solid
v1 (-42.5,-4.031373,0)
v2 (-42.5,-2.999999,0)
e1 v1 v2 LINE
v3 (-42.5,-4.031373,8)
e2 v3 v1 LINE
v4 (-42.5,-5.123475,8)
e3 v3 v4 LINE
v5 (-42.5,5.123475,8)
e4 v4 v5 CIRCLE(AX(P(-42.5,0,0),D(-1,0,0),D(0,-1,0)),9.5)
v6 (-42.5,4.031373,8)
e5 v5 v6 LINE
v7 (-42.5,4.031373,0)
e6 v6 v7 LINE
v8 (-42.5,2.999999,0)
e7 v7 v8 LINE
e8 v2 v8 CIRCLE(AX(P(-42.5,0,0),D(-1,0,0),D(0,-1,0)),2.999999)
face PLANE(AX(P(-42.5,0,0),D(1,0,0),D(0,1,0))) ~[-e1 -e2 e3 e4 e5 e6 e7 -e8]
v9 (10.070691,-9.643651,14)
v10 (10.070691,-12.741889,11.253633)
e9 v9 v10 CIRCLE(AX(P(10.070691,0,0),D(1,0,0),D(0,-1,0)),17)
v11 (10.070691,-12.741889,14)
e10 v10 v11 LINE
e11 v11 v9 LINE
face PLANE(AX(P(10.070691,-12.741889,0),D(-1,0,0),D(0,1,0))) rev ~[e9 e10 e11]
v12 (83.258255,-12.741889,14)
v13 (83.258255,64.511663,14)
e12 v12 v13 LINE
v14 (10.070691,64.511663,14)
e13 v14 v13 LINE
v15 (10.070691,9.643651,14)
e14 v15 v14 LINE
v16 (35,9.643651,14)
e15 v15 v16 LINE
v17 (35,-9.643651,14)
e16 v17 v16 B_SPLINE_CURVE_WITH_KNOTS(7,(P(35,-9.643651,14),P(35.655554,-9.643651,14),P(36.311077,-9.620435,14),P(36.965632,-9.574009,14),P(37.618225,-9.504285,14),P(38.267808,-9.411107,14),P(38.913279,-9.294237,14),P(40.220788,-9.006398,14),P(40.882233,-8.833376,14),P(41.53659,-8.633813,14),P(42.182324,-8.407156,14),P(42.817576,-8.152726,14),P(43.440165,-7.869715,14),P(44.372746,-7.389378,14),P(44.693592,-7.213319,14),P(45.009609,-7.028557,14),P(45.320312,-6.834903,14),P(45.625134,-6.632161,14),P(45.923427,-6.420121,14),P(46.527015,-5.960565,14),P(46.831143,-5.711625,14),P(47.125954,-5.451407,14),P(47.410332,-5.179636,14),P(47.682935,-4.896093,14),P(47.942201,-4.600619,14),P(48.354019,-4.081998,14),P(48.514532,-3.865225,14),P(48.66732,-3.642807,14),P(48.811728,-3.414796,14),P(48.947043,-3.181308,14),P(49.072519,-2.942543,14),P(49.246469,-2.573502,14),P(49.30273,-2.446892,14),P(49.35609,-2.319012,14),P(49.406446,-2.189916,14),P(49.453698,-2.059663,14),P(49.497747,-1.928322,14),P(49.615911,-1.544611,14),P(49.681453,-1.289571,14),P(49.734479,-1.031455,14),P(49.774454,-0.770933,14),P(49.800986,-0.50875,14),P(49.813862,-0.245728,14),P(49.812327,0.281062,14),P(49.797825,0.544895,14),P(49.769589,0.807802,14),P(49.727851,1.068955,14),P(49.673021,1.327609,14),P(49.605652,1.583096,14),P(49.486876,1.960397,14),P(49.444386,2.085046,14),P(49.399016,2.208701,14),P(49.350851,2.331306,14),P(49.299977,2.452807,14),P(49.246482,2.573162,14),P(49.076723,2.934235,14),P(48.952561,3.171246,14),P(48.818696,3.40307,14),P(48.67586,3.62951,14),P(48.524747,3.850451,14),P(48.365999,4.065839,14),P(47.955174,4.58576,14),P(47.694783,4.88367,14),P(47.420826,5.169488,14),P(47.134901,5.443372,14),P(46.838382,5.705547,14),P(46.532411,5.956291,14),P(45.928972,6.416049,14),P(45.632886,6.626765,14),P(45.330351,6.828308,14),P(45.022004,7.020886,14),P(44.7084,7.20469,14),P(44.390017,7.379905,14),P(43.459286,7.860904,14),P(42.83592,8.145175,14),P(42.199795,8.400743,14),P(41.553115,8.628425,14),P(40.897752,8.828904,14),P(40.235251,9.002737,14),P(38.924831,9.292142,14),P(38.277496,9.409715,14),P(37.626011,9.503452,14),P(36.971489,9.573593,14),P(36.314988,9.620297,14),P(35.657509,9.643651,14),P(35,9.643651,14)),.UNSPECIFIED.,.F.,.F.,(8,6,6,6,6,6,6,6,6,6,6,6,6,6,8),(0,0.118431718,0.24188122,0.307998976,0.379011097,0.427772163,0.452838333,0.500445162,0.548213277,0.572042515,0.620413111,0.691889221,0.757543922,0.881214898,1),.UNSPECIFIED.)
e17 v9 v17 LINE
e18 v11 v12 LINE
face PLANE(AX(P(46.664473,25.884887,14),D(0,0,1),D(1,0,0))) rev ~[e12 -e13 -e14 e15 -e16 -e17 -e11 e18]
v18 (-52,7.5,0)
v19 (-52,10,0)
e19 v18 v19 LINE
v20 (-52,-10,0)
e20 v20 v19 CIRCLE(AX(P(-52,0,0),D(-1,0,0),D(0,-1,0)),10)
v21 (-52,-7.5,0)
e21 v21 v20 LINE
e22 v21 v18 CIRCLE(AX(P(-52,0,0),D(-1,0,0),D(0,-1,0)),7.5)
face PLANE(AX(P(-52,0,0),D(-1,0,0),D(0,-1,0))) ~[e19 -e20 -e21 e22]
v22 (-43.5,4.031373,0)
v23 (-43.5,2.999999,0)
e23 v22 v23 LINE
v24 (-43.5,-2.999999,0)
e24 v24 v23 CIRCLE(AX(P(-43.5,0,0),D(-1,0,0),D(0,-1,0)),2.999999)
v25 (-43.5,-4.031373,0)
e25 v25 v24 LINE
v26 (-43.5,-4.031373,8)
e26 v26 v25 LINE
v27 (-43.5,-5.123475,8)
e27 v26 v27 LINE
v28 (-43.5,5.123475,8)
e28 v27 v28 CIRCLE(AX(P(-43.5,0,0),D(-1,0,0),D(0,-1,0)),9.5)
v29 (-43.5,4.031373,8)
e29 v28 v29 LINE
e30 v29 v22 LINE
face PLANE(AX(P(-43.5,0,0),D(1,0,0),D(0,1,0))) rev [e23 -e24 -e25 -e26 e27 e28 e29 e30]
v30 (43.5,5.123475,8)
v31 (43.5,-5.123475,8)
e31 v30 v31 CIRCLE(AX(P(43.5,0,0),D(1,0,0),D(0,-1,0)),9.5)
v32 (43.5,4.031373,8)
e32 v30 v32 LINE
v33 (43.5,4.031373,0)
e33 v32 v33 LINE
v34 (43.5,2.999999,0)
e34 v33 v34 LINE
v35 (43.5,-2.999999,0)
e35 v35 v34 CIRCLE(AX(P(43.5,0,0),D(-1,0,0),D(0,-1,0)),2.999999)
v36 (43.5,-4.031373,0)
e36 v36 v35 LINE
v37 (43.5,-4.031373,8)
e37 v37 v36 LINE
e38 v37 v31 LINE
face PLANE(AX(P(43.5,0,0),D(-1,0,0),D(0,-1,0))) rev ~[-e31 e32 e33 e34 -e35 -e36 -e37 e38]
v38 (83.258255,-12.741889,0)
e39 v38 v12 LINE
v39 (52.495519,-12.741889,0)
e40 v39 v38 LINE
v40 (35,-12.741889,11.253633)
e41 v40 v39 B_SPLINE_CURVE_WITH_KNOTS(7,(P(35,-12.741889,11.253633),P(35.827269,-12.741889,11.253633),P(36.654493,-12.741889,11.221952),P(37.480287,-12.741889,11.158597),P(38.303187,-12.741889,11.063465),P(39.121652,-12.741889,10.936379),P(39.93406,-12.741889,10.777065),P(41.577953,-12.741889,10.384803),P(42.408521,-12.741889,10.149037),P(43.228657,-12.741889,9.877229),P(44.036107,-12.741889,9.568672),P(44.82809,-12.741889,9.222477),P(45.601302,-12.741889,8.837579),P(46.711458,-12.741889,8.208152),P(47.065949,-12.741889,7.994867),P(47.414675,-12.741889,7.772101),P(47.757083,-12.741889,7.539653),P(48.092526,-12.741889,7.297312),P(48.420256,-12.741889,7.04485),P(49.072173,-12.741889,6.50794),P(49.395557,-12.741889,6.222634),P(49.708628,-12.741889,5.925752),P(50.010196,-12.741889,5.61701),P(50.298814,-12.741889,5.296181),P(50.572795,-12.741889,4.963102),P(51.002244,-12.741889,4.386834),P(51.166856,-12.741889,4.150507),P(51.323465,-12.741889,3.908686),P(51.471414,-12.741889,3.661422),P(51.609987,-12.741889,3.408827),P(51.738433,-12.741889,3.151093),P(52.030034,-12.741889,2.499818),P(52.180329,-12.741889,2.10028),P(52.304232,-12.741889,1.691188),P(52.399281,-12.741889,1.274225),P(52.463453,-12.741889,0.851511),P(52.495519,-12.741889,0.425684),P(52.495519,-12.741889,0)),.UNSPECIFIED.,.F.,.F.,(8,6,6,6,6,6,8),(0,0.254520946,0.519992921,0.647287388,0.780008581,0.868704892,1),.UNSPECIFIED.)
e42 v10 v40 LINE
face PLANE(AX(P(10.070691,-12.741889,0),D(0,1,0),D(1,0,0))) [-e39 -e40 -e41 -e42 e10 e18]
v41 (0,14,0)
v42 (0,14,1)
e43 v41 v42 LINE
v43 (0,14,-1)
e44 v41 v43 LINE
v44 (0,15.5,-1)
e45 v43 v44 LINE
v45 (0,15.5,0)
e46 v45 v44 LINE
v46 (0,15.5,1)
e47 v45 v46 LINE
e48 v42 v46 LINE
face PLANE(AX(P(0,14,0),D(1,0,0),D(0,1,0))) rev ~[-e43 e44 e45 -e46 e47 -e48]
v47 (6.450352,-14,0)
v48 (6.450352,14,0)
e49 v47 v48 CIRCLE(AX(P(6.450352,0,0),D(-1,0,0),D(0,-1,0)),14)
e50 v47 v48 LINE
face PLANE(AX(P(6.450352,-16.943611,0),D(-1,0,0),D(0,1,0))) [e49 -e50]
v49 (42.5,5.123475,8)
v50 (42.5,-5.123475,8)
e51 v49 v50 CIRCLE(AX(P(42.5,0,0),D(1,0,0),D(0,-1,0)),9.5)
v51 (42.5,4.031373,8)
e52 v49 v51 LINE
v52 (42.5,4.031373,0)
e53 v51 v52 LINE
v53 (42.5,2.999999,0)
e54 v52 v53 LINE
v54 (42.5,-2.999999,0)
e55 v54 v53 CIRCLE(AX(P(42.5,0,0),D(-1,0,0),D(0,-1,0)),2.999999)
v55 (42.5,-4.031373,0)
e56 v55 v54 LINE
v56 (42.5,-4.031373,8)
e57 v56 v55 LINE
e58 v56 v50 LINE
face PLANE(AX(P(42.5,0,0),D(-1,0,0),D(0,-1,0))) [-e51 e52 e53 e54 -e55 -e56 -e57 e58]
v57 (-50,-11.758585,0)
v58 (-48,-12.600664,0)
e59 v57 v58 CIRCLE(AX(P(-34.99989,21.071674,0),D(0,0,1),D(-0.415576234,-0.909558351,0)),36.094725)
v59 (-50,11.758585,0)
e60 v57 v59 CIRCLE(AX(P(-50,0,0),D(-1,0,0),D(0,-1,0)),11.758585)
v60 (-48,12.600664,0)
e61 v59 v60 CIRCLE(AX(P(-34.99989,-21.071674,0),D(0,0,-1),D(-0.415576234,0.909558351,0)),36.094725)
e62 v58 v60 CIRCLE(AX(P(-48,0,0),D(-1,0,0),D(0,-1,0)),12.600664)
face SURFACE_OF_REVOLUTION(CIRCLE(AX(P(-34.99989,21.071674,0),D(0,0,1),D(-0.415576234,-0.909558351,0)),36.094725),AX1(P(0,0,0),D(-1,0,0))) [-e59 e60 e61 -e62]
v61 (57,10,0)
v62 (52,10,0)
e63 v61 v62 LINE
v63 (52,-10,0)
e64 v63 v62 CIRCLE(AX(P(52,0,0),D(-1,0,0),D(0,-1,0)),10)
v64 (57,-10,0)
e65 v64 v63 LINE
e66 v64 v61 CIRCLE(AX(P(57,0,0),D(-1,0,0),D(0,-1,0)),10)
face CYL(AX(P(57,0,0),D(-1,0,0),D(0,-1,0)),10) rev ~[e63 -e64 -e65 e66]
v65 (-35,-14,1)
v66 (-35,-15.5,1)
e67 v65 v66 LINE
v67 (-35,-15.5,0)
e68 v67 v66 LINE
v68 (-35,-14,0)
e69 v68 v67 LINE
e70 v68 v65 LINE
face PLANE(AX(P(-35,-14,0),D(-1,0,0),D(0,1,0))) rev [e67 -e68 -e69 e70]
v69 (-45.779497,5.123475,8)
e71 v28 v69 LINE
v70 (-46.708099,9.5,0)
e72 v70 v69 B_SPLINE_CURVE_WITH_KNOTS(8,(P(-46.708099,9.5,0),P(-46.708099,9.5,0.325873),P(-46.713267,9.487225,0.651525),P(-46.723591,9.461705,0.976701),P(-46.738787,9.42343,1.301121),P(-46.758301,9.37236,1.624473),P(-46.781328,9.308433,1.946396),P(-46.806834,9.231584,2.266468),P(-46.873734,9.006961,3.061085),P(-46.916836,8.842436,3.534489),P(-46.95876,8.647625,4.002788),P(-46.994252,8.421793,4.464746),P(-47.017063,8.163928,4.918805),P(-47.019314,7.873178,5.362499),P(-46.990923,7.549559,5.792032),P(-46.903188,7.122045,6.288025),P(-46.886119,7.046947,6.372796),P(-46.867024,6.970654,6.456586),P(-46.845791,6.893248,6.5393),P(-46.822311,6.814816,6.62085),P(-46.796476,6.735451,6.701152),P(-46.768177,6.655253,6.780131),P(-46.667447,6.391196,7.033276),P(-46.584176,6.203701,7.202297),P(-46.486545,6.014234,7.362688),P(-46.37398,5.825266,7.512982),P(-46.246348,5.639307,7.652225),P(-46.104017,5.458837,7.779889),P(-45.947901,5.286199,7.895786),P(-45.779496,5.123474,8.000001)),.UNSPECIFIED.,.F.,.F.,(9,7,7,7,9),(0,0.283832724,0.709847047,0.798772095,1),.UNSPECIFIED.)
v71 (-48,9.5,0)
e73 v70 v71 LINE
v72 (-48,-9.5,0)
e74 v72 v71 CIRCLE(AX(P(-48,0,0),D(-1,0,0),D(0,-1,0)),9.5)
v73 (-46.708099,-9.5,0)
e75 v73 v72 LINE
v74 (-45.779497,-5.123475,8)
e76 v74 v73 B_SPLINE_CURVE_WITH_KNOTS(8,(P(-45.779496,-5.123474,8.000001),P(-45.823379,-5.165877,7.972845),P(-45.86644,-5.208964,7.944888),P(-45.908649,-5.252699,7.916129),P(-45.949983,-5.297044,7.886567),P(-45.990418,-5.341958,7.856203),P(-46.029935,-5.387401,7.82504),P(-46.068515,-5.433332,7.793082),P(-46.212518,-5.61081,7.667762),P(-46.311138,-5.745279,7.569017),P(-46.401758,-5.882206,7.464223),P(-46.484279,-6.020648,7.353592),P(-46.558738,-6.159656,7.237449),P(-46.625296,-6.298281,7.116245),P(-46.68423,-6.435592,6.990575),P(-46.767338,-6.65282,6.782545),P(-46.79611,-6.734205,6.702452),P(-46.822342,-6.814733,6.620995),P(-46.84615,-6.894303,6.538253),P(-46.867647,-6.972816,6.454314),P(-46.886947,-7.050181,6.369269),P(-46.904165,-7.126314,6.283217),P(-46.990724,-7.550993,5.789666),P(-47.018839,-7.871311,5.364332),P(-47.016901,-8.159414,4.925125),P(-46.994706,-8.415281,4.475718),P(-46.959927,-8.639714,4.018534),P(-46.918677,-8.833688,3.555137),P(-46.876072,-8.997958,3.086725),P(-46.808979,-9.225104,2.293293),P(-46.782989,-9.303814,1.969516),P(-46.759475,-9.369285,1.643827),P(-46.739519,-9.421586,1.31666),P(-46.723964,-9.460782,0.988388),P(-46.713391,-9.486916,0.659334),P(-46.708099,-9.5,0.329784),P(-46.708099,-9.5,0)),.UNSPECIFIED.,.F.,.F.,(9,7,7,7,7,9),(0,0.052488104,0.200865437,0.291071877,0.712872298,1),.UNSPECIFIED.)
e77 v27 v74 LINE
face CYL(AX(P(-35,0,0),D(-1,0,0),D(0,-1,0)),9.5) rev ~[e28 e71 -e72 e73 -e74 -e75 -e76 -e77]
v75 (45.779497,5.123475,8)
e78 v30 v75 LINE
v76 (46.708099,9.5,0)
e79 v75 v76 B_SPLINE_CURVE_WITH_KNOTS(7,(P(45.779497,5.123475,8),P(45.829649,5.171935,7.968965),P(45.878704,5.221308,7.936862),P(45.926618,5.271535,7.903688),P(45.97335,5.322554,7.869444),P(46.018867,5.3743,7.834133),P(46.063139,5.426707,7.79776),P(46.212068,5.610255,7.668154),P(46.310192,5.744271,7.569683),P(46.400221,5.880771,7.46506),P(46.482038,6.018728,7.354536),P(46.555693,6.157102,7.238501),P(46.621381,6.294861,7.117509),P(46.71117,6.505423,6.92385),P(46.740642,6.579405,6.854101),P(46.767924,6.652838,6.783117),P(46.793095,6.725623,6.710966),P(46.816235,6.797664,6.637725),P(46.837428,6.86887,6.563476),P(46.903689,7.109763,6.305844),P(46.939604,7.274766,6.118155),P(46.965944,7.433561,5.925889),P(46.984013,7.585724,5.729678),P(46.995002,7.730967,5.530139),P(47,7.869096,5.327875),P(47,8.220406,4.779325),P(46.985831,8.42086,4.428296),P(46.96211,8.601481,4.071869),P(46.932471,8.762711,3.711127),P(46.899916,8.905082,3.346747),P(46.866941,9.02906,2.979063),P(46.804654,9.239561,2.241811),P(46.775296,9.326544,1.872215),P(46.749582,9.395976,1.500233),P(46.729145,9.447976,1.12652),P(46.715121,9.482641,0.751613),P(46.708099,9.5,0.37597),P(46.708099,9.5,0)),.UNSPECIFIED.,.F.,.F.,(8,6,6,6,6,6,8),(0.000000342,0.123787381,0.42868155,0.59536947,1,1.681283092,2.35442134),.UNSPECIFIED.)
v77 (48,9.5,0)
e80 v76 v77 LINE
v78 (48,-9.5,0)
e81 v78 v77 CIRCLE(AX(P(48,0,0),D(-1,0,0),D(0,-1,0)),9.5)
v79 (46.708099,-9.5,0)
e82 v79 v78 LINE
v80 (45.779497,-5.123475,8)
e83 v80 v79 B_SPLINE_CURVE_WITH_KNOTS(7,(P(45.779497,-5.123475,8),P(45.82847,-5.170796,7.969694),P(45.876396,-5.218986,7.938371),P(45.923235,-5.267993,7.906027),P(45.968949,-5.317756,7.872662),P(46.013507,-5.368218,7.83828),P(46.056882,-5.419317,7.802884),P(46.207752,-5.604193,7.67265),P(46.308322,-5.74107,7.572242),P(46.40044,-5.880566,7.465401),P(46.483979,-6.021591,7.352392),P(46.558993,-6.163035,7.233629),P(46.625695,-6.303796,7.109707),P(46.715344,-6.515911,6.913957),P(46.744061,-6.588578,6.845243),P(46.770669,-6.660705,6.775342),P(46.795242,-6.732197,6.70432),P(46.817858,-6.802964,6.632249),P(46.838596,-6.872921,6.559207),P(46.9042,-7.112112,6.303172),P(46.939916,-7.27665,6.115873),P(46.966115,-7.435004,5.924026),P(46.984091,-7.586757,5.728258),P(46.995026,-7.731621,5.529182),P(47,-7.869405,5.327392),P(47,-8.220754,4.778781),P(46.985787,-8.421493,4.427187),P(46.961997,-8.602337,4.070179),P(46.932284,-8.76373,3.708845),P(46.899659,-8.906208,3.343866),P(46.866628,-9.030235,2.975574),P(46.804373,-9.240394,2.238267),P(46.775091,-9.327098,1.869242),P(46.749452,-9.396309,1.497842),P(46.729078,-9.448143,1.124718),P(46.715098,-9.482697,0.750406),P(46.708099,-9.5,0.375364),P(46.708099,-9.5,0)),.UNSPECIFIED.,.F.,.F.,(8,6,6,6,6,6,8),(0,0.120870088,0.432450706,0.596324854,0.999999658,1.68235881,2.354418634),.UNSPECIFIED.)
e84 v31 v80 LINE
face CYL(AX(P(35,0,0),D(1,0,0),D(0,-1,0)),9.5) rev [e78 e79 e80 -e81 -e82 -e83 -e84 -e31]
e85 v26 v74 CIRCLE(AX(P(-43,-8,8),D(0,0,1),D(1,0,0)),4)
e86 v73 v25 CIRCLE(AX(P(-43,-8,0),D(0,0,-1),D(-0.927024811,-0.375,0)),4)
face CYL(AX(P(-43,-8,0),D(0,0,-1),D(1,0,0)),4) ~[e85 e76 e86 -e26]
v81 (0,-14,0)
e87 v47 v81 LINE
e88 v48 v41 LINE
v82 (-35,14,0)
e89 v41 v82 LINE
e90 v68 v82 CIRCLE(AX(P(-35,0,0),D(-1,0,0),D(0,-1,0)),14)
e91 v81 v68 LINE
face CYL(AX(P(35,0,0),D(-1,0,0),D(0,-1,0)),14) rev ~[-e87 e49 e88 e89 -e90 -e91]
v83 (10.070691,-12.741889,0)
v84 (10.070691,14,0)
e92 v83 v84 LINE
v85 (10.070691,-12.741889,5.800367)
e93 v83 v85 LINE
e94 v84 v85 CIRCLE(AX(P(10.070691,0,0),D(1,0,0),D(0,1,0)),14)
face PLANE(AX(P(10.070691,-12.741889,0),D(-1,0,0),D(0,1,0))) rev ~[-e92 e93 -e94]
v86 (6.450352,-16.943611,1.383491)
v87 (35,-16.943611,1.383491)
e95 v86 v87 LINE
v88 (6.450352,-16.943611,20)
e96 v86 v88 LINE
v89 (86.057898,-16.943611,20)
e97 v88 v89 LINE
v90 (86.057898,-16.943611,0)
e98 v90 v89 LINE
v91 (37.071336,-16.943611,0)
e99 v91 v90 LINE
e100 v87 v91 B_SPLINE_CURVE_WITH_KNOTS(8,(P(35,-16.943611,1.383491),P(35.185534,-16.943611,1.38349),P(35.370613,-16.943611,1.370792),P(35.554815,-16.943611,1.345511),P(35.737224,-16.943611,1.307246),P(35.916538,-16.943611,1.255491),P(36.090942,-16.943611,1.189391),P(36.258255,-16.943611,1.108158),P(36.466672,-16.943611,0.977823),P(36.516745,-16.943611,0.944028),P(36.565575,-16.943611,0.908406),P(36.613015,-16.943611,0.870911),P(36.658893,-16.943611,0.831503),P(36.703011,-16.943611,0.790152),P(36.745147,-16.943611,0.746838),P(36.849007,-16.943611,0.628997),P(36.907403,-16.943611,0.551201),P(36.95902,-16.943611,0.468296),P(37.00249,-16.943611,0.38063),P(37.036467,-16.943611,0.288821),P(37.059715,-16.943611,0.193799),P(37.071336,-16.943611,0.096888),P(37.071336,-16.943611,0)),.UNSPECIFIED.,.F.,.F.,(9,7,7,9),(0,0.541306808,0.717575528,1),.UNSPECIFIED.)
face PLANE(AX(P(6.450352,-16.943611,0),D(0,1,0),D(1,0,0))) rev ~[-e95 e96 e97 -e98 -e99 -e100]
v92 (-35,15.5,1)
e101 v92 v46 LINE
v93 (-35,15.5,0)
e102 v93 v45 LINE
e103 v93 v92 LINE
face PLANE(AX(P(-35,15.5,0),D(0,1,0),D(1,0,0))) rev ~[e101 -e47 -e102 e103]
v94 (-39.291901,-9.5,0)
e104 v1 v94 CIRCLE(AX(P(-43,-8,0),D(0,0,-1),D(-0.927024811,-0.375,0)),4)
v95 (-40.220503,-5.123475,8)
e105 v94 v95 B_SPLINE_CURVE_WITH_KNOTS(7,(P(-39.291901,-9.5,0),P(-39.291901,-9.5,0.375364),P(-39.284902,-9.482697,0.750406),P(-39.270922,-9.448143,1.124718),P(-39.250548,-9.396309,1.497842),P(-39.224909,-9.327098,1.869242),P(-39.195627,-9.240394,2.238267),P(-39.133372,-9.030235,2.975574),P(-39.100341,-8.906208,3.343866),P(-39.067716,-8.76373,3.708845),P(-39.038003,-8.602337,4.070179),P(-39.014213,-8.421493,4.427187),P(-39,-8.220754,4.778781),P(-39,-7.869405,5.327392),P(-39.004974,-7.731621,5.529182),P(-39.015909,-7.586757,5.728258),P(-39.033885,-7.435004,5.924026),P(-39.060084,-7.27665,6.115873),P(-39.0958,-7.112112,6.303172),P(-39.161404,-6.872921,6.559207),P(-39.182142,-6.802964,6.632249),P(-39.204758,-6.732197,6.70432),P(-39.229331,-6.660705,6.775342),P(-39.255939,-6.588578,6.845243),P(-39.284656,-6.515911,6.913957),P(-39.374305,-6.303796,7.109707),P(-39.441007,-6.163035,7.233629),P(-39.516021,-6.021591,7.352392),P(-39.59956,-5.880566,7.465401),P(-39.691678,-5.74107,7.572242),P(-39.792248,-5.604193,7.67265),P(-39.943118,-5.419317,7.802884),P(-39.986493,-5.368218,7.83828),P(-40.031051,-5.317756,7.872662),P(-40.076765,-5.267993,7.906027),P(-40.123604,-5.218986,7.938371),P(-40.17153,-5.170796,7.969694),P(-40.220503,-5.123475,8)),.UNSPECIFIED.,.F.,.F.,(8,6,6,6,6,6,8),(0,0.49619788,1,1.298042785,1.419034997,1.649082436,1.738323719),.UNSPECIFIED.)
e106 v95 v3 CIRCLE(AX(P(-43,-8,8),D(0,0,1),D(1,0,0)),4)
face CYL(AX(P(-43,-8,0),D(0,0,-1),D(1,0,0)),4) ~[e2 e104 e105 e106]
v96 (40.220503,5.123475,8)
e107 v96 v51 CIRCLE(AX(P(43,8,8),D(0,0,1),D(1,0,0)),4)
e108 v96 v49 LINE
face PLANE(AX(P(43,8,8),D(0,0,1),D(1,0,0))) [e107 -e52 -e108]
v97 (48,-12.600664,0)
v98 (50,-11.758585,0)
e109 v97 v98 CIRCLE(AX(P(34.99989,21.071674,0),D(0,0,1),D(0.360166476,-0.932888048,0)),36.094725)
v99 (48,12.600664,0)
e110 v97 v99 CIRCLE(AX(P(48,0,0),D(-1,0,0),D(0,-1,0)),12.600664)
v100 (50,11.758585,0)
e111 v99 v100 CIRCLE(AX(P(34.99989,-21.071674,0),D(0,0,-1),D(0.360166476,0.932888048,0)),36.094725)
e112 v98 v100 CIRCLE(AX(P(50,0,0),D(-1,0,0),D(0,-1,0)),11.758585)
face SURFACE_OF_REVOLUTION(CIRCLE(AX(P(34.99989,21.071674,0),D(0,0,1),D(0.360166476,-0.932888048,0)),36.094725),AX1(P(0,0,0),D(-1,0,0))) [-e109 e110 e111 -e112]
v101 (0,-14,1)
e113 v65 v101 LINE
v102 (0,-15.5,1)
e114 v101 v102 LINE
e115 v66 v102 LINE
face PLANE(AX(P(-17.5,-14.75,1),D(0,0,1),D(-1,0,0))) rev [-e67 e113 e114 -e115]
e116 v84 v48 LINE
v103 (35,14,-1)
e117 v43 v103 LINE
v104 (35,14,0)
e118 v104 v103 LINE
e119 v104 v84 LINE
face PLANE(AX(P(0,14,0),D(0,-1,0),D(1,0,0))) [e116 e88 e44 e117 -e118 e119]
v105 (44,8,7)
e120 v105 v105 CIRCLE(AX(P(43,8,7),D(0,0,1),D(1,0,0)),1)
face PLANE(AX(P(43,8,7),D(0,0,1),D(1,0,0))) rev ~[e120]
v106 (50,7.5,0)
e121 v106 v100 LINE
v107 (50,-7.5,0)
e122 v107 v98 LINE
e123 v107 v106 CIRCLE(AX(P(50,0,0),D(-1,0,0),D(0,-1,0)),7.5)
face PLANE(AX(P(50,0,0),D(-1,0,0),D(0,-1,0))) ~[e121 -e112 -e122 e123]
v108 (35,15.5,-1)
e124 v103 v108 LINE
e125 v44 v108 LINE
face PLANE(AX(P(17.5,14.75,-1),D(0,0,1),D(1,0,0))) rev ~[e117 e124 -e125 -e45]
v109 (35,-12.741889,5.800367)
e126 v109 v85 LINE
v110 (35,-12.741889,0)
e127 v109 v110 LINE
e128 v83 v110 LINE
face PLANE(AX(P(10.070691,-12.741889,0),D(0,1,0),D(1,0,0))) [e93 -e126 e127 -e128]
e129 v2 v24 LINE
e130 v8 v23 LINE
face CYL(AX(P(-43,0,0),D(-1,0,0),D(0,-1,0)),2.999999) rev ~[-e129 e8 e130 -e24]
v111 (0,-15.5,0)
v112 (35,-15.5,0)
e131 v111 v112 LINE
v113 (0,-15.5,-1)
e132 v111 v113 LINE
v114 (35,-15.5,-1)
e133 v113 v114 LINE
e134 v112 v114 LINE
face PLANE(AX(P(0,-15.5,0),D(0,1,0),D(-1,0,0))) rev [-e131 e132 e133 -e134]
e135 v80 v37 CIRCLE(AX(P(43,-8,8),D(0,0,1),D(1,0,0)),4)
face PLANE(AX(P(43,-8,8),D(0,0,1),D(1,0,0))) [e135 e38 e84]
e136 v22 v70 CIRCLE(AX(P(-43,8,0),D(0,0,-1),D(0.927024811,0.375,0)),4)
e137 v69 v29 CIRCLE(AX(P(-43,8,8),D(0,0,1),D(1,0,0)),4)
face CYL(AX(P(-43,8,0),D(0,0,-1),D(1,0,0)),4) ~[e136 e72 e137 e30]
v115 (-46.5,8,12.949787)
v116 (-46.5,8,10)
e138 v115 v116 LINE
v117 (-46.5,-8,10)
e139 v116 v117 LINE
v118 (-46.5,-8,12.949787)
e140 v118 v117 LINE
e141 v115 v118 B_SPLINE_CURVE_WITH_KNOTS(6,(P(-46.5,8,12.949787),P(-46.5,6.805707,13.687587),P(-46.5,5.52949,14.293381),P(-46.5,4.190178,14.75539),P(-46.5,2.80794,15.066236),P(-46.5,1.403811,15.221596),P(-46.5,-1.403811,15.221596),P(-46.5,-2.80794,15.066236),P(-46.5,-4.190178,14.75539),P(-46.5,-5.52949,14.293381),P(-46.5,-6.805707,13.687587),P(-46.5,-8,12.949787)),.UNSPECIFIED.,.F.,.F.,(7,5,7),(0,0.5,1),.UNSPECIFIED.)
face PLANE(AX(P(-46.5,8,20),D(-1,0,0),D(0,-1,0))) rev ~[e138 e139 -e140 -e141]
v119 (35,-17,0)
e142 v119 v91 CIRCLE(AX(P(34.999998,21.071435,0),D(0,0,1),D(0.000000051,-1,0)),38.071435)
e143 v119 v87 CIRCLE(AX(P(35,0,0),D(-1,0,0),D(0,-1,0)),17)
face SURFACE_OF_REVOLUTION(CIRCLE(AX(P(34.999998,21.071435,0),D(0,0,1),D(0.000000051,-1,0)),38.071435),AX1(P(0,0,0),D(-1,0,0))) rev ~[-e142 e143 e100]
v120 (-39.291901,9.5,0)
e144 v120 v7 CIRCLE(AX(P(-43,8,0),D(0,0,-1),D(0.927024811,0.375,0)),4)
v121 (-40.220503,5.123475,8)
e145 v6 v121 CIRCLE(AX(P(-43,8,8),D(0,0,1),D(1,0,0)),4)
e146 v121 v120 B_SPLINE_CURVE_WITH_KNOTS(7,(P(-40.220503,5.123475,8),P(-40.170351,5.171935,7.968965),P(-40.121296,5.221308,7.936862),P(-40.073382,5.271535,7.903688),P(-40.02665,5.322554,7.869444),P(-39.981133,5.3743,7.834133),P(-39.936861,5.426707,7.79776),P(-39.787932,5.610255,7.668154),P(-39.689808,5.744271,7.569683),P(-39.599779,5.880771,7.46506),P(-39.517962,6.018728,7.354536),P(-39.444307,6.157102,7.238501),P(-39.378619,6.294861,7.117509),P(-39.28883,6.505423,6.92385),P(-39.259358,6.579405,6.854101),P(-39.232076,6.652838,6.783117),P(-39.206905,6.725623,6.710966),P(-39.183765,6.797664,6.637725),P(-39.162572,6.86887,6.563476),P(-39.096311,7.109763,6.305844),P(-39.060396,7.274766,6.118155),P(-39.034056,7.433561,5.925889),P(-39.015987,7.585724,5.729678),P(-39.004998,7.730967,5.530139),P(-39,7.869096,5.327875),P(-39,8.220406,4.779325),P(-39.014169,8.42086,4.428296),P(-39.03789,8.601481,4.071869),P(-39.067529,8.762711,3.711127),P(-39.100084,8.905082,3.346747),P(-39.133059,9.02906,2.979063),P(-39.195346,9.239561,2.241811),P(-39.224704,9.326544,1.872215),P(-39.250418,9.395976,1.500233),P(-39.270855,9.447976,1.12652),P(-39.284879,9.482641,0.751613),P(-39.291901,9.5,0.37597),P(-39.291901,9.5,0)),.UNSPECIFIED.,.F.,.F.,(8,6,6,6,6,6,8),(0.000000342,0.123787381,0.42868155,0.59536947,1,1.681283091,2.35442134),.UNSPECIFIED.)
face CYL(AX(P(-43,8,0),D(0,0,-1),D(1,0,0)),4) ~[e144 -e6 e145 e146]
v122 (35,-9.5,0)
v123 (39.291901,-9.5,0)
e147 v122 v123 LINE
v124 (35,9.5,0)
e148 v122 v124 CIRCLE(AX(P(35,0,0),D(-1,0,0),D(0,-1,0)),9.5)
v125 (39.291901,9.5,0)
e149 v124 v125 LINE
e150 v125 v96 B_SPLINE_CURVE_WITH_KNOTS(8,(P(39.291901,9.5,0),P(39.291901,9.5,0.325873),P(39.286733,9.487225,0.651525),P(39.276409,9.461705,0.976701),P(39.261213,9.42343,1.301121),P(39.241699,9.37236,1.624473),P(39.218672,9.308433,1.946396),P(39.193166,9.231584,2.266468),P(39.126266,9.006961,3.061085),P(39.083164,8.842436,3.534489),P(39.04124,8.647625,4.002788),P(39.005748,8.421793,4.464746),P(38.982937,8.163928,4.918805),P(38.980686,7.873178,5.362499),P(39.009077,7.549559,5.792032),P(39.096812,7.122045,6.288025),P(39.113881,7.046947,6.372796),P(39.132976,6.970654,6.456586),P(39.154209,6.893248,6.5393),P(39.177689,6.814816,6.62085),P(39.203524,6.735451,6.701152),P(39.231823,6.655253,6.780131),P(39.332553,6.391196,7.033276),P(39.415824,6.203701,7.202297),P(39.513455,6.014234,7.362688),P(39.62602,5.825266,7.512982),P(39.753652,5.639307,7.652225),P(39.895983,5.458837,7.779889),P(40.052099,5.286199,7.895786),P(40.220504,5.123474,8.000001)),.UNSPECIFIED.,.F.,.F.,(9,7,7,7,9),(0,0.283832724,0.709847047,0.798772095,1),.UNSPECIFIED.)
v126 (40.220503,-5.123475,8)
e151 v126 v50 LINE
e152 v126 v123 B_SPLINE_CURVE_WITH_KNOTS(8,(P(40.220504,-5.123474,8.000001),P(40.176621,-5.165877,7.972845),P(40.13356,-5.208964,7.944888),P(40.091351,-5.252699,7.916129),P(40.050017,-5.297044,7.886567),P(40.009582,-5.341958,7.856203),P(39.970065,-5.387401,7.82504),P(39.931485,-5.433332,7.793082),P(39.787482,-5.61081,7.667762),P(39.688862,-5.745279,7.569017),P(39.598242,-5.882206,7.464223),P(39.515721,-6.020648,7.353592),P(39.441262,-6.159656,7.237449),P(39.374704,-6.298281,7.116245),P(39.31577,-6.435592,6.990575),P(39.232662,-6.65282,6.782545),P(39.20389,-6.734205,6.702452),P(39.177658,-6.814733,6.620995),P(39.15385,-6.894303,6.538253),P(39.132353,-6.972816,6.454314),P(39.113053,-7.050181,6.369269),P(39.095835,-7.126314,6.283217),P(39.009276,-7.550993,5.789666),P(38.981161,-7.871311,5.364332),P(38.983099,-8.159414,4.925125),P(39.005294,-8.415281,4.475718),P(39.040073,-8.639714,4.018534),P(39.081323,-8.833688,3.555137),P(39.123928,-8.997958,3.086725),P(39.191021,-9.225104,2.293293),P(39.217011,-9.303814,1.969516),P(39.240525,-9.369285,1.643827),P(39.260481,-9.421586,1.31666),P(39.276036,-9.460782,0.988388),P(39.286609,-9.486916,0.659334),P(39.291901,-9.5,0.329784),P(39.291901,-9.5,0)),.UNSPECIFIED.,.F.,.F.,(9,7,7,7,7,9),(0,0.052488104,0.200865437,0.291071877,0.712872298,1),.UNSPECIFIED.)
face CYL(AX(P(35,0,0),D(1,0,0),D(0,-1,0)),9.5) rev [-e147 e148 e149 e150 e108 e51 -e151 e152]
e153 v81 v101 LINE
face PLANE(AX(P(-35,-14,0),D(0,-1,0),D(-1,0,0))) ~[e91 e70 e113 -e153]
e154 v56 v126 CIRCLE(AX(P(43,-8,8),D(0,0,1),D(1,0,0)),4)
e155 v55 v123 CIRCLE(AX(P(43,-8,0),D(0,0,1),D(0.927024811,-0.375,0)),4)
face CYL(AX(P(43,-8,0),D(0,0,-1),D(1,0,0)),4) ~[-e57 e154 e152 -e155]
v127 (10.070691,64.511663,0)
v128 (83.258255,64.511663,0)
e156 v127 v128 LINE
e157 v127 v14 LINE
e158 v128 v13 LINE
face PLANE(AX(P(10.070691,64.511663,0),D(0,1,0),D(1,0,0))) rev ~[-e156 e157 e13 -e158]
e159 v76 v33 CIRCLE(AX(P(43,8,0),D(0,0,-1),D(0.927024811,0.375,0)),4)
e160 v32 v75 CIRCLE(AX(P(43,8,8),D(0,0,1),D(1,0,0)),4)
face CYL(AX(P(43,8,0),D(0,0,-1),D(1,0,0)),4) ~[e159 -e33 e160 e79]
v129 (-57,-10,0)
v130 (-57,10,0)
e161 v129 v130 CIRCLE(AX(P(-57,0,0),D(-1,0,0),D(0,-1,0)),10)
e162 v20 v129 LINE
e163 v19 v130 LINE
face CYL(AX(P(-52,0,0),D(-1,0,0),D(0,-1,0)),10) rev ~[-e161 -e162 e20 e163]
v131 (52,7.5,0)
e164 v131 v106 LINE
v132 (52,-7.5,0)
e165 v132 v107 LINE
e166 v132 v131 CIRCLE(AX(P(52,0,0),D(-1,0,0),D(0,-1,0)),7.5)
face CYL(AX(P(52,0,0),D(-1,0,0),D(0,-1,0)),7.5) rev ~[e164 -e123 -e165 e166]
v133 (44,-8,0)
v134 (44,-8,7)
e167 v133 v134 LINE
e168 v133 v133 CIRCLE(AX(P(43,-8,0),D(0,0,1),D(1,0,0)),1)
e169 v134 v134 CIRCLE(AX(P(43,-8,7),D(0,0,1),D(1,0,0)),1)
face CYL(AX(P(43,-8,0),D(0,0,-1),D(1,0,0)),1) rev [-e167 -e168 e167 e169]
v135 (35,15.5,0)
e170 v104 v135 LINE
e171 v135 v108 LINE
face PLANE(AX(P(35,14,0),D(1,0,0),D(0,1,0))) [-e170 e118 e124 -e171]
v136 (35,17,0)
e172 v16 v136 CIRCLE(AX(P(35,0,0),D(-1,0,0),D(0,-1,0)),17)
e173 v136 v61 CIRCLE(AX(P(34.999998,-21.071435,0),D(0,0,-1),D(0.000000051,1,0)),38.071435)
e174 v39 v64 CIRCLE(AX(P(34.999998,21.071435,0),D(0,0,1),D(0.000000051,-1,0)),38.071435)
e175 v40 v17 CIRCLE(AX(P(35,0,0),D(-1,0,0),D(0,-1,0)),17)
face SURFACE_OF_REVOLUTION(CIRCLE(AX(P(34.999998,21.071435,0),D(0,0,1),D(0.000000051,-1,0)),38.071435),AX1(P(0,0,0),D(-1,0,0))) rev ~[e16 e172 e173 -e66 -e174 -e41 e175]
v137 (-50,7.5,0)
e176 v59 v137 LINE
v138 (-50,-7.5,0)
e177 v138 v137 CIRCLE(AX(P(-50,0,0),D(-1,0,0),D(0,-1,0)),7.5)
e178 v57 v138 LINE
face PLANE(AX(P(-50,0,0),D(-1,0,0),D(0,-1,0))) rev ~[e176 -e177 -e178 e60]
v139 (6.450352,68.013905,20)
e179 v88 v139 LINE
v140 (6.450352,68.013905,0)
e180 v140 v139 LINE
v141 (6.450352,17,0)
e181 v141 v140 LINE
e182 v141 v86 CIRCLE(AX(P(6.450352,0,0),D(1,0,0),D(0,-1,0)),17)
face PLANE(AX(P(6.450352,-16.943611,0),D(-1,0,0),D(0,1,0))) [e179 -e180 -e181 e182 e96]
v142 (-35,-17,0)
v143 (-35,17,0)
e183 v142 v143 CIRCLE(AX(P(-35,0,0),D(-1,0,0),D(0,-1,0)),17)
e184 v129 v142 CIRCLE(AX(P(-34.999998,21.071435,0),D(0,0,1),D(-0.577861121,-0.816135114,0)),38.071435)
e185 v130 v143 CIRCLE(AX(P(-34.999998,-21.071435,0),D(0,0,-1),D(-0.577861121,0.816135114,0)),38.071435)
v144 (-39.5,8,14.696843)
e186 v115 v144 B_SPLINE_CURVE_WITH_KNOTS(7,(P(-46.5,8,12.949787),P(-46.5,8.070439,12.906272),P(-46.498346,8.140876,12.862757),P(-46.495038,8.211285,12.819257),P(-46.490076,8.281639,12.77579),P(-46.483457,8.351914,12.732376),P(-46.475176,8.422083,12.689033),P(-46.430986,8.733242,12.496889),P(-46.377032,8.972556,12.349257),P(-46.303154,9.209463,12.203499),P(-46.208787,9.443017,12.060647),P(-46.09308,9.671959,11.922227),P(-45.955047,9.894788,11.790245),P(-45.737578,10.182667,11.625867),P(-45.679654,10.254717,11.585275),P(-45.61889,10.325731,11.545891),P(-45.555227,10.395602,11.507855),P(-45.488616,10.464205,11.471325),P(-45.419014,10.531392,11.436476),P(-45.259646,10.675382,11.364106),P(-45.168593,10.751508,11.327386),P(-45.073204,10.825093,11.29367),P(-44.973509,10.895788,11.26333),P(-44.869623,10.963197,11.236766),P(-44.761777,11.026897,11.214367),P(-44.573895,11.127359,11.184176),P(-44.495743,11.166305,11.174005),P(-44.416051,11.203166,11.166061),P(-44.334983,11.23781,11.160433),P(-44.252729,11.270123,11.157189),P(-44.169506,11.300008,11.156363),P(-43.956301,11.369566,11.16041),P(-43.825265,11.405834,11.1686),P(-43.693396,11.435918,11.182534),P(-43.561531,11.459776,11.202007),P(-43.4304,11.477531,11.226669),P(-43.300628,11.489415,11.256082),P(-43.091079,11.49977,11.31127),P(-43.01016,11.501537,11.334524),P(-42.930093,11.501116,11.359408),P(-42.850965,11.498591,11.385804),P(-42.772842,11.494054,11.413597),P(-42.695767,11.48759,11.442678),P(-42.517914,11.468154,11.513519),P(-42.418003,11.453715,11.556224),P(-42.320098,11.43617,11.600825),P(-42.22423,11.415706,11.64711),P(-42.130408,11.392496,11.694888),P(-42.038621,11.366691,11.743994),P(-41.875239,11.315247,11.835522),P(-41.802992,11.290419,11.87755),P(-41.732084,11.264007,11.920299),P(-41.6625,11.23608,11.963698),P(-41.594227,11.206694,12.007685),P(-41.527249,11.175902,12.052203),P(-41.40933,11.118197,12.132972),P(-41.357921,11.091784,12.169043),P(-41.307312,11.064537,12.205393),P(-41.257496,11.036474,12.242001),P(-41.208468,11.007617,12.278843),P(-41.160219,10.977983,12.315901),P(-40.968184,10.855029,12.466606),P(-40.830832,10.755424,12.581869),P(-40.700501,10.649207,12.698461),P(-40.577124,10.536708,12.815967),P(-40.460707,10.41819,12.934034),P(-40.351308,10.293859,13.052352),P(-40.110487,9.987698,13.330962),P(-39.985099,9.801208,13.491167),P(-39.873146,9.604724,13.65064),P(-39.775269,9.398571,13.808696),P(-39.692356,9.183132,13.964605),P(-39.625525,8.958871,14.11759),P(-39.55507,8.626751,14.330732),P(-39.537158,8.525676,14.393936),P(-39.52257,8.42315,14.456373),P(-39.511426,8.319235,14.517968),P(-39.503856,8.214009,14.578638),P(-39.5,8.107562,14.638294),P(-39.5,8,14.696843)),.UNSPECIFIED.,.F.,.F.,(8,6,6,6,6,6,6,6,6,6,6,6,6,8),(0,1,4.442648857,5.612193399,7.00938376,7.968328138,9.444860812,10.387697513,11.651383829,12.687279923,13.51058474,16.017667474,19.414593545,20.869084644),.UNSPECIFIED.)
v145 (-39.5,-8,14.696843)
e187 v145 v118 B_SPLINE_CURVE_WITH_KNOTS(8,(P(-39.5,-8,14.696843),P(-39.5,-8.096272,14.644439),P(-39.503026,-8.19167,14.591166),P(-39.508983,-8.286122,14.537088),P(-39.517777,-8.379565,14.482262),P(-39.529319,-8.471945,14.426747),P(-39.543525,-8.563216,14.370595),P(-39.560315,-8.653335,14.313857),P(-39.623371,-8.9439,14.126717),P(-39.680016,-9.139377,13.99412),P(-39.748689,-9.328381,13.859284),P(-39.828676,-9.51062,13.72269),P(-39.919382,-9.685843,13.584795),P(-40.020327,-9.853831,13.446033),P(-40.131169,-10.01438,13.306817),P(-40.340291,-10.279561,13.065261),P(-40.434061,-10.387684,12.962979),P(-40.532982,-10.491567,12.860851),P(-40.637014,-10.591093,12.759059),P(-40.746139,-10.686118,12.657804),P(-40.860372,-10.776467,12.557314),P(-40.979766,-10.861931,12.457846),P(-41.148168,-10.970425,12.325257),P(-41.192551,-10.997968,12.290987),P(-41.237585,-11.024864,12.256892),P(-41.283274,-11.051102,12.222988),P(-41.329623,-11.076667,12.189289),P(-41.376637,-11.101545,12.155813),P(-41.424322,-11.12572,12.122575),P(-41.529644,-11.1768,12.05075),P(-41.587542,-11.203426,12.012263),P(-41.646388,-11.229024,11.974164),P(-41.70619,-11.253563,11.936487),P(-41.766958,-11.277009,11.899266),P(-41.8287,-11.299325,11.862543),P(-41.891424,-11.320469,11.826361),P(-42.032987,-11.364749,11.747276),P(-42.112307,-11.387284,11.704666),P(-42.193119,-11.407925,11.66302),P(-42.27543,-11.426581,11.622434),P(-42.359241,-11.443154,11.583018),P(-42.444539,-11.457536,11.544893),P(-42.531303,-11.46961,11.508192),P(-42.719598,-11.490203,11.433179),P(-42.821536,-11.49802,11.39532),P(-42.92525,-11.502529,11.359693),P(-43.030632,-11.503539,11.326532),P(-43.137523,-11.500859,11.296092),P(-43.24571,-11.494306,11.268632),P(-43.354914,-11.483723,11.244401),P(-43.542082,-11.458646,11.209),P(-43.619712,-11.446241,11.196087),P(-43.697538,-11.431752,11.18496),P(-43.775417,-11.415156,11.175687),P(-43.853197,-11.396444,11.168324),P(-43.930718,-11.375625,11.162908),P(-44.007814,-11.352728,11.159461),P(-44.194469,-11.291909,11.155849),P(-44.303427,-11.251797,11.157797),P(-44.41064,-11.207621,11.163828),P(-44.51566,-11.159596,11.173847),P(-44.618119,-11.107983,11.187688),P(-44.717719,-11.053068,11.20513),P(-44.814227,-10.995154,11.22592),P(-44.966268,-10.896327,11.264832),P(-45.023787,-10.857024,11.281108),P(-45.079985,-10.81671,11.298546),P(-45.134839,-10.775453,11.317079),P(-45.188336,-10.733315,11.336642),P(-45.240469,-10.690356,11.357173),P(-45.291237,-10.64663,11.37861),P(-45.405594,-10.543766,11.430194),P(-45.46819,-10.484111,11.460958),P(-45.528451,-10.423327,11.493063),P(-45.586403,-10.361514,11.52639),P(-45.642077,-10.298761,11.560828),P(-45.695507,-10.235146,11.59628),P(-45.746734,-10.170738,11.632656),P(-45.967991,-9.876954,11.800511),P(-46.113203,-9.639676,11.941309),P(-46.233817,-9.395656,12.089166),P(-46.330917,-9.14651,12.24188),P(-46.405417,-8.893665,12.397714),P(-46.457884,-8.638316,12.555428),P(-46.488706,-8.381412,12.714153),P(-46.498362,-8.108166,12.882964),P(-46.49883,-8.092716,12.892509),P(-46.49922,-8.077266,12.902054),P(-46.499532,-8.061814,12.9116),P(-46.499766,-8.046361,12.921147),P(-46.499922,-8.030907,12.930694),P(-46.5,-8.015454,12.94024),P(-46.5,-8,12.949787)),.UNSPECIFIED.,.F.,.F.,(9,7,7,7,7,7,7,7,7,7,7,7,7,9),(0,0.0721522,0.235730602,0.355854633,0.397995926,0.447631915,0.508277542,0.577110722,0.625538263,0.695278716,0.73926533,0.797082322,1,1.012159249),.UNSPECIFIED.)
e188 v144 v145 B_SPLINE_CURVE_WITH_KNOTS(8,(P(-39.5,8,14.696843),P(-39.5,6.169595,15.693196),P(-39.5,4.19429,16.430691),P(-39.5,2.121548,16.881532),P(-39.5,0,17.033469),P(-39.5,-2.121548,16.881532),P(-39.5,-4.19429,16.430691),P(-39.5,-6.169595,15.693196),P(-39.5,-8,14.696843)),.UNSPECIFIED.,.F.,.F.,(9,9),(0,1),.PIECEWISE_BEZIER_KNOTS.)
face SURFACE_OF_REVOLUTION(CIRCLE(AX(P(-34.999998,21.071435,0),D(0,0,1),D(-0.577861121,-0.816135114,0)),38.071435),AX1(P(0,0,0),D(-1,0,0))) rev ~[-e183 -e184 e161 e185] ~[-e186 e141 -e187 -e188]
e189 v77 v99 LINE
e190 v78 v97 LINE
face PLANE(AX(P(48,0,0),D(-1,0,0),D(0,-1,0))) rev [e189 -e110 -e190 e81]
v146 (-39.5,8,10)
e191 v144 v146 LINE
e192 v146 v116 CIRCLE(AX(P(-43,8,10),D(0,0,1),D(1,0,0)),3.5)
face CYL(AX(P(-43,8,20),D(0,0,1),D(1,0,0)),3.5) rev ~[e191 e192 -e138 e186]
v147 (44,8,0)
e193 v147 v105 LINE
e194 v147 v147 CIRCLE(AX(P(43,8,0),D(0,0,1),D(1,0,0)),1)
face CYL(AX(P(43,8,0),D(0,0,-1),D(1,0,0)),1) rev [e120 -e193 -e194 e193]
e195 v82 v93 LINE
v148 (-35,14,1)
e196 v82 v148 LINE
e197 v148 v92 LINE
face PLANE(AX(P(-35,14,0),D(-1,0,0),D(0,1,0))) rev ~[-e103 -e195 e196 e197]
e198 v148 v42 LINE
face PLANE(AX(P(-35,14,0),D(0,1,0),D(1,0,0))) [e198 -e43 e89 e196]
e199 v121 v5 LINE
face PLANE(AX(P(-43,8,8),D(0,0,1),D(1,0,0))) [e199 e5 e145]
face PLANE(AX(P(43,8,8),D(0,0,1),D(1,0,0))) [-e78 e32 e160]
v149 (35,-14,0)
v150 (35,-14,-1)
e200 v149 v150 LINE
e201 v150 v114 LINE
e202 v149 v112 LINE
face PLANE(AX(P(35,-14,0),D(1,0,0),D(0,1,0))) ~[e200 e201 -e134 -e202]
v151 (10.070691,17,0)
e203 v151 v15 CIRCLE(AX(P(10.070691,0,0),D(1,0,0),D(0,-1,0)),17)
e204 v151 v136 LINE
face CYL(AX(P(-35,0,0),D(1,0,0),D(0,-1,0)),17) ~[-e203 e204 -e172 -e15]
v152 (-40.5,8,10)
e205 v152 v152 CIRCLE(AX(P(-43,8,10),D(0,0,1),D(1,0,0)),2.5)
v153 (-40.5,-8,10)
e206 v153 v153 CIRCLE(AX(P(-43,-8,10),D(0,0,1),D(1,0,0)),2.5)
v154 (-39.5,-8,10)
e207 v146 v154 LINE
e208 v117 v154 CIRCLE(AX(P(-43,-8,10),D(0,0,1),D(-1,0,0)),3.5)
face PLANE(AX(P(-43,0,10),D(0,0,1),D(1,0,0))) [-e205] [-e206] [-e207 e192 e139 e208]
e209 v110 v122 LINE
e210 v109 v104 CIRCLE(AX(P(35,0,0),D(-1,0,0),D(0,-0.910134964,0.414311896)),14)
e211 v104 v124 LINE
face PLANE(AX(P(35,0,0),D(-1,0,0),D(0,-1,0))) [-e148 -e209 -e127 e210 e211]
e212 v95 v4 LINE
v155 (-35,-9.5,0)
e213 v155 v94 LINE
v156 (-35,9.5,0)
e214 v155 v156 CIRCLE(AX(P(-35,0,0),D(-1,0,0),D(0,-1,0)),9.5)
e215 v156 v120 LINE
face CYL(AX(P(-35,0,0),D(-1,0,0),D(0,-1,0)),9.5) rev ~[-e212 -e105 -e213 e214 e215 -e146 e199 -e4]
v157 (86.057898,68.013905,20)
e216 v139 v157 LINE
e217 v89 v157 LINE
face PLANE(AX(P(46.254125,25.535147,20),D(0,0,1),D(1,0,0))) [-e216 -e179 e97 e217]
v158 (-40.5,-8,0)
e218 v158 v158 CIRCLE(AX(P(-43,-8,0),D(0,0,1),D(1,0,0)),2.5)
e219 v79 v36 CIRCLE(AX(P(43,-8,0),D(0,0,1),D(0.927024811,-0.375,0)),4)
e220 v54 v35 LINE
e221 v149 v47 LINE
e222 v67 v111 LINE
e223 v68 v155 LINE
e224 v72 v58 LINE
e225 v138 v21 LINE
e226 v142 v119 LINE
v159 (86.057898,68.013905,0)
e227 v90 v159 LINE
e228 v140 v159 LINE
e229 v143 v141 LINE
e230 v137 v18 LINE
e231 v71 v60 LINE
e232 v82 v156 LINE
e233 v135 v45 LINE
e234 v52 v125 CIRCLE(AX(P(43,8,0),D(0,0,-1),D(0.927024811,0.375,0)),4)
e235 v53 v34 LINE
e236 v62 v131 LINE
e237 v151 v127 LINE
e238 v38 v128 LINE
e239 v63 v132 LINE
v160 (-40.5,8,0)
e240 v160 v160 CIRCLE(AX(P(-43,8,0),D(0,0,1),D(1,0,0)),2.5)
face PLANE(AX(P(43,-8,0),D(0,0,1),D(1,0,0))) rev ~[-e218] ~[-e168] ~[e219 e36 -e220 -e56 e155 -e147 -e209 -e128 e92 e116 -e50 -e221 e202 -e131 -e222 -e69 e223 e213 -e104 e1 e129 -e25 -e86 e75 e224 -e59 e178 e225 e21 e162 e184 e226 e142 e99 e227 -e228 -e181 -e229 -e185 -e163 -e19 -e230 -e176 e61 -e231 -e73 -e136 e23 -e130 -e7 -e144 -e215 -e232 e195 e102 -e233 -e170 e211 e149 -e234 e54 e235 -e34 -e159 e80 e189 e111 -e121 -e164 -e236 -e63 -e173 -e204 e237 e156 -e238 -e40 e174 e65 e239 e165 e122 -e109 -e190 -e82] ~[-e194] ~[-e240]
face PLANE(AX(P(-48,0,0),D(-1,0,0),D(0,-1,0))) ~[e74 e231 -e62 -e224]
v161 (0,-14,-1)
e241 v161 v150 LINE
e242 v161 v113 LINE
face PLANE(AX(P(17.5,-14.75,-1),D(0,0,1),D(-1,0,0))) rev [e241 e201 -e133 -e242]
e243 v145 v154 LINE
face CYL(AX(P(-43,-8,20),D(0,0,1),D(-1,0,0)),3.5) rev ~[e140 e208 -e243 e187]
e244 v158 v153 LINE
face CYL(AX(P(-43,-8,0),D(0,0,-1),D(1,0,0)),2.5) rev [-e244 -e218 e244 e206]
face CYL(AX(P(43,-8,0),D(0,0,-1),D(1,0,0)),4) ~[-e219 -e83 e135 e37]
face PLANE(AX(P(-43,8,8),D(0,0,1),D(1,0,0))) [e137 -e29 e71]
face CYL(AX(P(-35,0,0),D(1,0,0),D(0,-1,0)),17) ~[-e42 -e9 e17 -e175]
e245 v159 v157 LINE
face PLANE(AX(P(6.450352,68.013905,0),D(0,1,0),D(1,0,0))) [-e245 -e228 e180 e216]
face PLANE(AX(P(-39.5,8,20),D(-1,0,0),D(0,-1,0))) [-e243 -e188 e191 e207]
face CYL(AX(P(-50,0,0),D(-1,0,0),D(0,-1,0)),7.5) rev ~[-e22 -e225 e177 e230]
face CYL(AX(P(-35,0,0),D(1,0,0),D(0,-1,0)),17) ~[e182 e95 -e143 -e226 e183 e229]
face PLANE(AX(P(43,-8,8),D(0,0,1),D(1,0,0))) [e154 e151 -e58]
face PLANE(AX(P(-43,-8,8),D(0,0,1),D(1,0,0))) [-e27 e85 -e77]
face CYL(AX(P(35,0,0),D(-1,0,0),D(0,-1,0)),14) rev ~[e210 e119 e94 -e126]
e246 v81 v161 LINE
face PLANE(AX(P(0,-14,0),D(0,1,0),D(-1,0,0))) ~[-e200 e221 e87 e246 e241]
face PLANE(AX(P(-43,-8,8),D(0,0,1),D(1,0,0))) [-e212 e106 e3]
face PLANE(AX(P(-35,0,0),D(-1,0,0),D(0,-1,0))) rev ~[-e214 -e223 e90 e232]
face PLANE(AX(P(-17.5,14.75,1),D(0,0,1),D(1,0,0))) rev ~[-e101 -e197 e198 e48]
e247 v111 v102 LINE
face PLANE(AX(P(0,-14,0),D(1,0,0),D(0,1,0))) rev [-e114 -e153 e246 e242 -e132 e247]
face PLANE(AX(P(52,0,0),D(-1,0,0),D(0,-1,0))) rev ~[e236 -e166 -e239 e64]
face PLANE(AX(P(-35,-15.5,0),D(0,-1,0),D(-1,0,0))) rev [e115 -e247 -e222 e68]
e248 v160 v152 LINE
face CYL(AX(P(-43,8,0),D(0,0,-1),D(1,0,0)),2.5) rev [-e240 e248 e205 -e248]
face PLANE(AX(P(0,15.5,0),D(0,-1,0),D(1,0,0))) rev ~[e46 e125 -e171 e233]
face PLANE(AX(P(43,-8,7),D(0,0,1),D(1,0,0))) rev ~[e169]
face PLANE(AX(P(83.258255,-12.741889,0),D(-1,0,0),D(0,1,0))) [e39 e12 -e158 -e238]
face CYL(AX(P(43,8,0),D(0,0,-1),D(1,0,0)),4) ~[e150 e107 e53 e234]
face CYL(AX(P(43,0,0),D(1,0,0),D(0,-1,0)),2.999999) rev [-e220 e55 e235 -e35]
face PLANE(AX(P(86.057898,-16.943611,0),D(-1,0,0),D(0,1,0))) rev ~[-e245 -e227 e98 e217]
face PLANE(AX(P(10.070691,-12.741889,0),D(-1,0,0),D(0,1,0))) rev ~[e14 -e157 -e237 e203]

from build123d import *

# Parameters (mm, degrees)
SKETCH008_W         = 79.607547
SKETCH008_H         = 84.957516
PAD002_DEPTH        = 20
SKETCH009_W         = 73.187564
SKETCH009_H         = 77.253553
POCKET004_DEPTH     = 14
REVOLUTION_ANGLE    = -180
SKETCH001_W         = 35
SKETCH001_H         = 1.5
PAD_DEPTH           = 1
SKETCH002_W         = 35
SKETCH002_H         = 1.5
POCKET_DEPTH        = 1
SKETCH003_R         = 4
PAD001_DEPTH        = 8
SKETCH004_W         = 1
SKETCH004_H         = 9.534319
REVOLUTION001_ANGLE = -180
SKETCH005_R         = 1
POCKET001_DEPTH     = 7
SKETCH006_R         = 2.5
POCKET002_DEPTH     = 10
POCKET003_DEPTH     = 10


with BuildPart() as body001:
    # Sketch008 → Pad002 (new body)
    with BuildSketch(Plane.XY):
        with Locations((46.254125, -8.464853)):
            Rectangle(SKETCH008_W, SKETCH008_H)
    extrude(amount=PAD002_DEPTH)

    # Sketch009 → Pocket004 (cut)
    with BuildSketch(Plane.XY):
        with Locations((46.664473, -8.115113)):
            Rectangle(SKETCH009_W, SKETCH009_H)
    extrude(amount=POCKET004_DEPTH, mode=Mode.SUBTRACT)


with BuildPart() as body001_1:
    # Body001 placement: moved
    add(body001.part.moved(Location((0, 34, 0))))


with BuildPart() as fusion:
    # Sketch → Revolution (revolve)
    with BuildSketch(Plane.XY):
        with BuildLine():
            Line((-35, -17), (35, -17))
            ThreePointArc((35, -17), (46.543396, -15.207817), (57, -10))
            Line((57, -10), (52, -10))
            Line((52, -10), (52, -7.5))
            Line((52, -7.5), (50, -7.5))
            Line((50, -7.5), (50, -11.758585))
            ThreePointArc((48, -12.600664), (49.00633, -12.194658), (50, -11.758585))
            Line((48, -9.5), (48, -12.600664))
            Line((35, -9.5), (48, -9.5))
            Line((35, -14), (35, -9.5))
            Line((35, -14), (-35, -14))
            Line((-35, -14), (-35, -9.5))
            Line((-35, -9.5), (-48, -9.5))
            Line((-48, -9.5), (-48, -12.600664))
            ThreePointArc((-50, -11.758585), (-49.00633, -12.194658), (-48, -12.600664))
            Line((-50, -11.758585), (-50, -7.5))
            Line((-50, -7.5), (-52, -7.5))
            Line((-52, -7.5), (-52, -10))
            Line((-52, -10), (-57, -10))
            ThreePointArc((-57, -10), (-46.543396, -15.207817), (-35, -17))
        make_face()
    revolve(axis=Axis((0, 0, 0), (1, 0, 0)), revolution_arc=REVOLUTION_ANGLE)

    # Sketch001 → Pad (new body)
    with BuildSketch(Plane.XY):
        with Locations((17.5, 14.75)):
            Rectangle(SKETCH001_W, SKETCH001_H)
    pad = extrude(amount=-PAD_DEPTH)

    # Mirrored: Pad across XZ
    add(pad.mirror(Plane.XZ))

    # Sketch002 → Pocket (cut)
    with BuildSketch(Plane.XY):
        with Locations((-17.5, 14.75)):
            Rectangle(SKETCH002_W, SKETCH002_H)
    pocket = extrude(amount=POCKET_DEPTH, mode=Mode.SUBTRACT)

    # Mirrored001: Pocket across XZ
    add(pocket.mirror(Plane.XZ), mode=Mode.SUBTRACT)

    # Sketch003 → Pad001 (join)
    with BuildSketch(Plane.XY):
        with Locations((43, -8)):
            Circle(SKETCH003_R)
        with Locations((-43, -8)):
            Circle(SKETCH003_R)
        with Locations((-43, 8)):
            Circle(SKETCH003_R)
        with Locations((43, 8)):
            Circle(SKETCH003_R)
    extrude(amount=PAD001_DEPTH)

    # Sketch004 → Revolution001 (revolve)
    with BuildSketch(Plane.XY):
        with Locations((43, -7.767159)):
            Rectangle(SKETCH004_W, SKETCH004_H)
    revolution001 = revolve(axis=Axis((0, 0, 0), (1, 0, 0)), revolution_arc=REVOLUTION001_ANGLE)

    # Mirrored002: Revolution001 across YZ
    add(revolution001.mirror(Plane.YZ))

    # Sketch005 → Pocket001 (cut)
    with BuildSketch(Plane.XY):
        with Locations((43, 8)):
            Circle(SKETCH005_R)
        with Locations((43, -8)):
            Circle(SKETCH005_R)
    extrude(amount=POCKET001_DEPTH, mode=Mode.SUBTRACT)

    # Sketch006 → Pocket002 (cut)
    with BuildSketch(Plane.XY):
        with Locations((-43, 8)):
            Circle(SKETCH006_R)
        with Locations((-43, -8)):
            Circle(SKETCH006_R)
    extrude(amount=POCKET002_DEPTH, mode=Mode.SUBTRACT)

    # Sketch007 → Pocket003 (cut)
    with BuildSketch(Plane.XY.offset(20)):
        with BuildLine():
            ThreePointArc((-39.5, 8), (-43, 11.5), (-46.5, 8))
            Line((-46.5, 8), (-46.5, -8))
            ThreePointArc((-46.5, -8), (-43, -11.5), (-39.5, -8))
            Line((-39.5, 8), (-39.5, -8))
        make_face()
    extrude(amount=-POCKET003_DEPTH, mode=Mode.SUBTRACT)

    # Fusion: union Body001
    add(body001_1.part)


solid = fusion.part
